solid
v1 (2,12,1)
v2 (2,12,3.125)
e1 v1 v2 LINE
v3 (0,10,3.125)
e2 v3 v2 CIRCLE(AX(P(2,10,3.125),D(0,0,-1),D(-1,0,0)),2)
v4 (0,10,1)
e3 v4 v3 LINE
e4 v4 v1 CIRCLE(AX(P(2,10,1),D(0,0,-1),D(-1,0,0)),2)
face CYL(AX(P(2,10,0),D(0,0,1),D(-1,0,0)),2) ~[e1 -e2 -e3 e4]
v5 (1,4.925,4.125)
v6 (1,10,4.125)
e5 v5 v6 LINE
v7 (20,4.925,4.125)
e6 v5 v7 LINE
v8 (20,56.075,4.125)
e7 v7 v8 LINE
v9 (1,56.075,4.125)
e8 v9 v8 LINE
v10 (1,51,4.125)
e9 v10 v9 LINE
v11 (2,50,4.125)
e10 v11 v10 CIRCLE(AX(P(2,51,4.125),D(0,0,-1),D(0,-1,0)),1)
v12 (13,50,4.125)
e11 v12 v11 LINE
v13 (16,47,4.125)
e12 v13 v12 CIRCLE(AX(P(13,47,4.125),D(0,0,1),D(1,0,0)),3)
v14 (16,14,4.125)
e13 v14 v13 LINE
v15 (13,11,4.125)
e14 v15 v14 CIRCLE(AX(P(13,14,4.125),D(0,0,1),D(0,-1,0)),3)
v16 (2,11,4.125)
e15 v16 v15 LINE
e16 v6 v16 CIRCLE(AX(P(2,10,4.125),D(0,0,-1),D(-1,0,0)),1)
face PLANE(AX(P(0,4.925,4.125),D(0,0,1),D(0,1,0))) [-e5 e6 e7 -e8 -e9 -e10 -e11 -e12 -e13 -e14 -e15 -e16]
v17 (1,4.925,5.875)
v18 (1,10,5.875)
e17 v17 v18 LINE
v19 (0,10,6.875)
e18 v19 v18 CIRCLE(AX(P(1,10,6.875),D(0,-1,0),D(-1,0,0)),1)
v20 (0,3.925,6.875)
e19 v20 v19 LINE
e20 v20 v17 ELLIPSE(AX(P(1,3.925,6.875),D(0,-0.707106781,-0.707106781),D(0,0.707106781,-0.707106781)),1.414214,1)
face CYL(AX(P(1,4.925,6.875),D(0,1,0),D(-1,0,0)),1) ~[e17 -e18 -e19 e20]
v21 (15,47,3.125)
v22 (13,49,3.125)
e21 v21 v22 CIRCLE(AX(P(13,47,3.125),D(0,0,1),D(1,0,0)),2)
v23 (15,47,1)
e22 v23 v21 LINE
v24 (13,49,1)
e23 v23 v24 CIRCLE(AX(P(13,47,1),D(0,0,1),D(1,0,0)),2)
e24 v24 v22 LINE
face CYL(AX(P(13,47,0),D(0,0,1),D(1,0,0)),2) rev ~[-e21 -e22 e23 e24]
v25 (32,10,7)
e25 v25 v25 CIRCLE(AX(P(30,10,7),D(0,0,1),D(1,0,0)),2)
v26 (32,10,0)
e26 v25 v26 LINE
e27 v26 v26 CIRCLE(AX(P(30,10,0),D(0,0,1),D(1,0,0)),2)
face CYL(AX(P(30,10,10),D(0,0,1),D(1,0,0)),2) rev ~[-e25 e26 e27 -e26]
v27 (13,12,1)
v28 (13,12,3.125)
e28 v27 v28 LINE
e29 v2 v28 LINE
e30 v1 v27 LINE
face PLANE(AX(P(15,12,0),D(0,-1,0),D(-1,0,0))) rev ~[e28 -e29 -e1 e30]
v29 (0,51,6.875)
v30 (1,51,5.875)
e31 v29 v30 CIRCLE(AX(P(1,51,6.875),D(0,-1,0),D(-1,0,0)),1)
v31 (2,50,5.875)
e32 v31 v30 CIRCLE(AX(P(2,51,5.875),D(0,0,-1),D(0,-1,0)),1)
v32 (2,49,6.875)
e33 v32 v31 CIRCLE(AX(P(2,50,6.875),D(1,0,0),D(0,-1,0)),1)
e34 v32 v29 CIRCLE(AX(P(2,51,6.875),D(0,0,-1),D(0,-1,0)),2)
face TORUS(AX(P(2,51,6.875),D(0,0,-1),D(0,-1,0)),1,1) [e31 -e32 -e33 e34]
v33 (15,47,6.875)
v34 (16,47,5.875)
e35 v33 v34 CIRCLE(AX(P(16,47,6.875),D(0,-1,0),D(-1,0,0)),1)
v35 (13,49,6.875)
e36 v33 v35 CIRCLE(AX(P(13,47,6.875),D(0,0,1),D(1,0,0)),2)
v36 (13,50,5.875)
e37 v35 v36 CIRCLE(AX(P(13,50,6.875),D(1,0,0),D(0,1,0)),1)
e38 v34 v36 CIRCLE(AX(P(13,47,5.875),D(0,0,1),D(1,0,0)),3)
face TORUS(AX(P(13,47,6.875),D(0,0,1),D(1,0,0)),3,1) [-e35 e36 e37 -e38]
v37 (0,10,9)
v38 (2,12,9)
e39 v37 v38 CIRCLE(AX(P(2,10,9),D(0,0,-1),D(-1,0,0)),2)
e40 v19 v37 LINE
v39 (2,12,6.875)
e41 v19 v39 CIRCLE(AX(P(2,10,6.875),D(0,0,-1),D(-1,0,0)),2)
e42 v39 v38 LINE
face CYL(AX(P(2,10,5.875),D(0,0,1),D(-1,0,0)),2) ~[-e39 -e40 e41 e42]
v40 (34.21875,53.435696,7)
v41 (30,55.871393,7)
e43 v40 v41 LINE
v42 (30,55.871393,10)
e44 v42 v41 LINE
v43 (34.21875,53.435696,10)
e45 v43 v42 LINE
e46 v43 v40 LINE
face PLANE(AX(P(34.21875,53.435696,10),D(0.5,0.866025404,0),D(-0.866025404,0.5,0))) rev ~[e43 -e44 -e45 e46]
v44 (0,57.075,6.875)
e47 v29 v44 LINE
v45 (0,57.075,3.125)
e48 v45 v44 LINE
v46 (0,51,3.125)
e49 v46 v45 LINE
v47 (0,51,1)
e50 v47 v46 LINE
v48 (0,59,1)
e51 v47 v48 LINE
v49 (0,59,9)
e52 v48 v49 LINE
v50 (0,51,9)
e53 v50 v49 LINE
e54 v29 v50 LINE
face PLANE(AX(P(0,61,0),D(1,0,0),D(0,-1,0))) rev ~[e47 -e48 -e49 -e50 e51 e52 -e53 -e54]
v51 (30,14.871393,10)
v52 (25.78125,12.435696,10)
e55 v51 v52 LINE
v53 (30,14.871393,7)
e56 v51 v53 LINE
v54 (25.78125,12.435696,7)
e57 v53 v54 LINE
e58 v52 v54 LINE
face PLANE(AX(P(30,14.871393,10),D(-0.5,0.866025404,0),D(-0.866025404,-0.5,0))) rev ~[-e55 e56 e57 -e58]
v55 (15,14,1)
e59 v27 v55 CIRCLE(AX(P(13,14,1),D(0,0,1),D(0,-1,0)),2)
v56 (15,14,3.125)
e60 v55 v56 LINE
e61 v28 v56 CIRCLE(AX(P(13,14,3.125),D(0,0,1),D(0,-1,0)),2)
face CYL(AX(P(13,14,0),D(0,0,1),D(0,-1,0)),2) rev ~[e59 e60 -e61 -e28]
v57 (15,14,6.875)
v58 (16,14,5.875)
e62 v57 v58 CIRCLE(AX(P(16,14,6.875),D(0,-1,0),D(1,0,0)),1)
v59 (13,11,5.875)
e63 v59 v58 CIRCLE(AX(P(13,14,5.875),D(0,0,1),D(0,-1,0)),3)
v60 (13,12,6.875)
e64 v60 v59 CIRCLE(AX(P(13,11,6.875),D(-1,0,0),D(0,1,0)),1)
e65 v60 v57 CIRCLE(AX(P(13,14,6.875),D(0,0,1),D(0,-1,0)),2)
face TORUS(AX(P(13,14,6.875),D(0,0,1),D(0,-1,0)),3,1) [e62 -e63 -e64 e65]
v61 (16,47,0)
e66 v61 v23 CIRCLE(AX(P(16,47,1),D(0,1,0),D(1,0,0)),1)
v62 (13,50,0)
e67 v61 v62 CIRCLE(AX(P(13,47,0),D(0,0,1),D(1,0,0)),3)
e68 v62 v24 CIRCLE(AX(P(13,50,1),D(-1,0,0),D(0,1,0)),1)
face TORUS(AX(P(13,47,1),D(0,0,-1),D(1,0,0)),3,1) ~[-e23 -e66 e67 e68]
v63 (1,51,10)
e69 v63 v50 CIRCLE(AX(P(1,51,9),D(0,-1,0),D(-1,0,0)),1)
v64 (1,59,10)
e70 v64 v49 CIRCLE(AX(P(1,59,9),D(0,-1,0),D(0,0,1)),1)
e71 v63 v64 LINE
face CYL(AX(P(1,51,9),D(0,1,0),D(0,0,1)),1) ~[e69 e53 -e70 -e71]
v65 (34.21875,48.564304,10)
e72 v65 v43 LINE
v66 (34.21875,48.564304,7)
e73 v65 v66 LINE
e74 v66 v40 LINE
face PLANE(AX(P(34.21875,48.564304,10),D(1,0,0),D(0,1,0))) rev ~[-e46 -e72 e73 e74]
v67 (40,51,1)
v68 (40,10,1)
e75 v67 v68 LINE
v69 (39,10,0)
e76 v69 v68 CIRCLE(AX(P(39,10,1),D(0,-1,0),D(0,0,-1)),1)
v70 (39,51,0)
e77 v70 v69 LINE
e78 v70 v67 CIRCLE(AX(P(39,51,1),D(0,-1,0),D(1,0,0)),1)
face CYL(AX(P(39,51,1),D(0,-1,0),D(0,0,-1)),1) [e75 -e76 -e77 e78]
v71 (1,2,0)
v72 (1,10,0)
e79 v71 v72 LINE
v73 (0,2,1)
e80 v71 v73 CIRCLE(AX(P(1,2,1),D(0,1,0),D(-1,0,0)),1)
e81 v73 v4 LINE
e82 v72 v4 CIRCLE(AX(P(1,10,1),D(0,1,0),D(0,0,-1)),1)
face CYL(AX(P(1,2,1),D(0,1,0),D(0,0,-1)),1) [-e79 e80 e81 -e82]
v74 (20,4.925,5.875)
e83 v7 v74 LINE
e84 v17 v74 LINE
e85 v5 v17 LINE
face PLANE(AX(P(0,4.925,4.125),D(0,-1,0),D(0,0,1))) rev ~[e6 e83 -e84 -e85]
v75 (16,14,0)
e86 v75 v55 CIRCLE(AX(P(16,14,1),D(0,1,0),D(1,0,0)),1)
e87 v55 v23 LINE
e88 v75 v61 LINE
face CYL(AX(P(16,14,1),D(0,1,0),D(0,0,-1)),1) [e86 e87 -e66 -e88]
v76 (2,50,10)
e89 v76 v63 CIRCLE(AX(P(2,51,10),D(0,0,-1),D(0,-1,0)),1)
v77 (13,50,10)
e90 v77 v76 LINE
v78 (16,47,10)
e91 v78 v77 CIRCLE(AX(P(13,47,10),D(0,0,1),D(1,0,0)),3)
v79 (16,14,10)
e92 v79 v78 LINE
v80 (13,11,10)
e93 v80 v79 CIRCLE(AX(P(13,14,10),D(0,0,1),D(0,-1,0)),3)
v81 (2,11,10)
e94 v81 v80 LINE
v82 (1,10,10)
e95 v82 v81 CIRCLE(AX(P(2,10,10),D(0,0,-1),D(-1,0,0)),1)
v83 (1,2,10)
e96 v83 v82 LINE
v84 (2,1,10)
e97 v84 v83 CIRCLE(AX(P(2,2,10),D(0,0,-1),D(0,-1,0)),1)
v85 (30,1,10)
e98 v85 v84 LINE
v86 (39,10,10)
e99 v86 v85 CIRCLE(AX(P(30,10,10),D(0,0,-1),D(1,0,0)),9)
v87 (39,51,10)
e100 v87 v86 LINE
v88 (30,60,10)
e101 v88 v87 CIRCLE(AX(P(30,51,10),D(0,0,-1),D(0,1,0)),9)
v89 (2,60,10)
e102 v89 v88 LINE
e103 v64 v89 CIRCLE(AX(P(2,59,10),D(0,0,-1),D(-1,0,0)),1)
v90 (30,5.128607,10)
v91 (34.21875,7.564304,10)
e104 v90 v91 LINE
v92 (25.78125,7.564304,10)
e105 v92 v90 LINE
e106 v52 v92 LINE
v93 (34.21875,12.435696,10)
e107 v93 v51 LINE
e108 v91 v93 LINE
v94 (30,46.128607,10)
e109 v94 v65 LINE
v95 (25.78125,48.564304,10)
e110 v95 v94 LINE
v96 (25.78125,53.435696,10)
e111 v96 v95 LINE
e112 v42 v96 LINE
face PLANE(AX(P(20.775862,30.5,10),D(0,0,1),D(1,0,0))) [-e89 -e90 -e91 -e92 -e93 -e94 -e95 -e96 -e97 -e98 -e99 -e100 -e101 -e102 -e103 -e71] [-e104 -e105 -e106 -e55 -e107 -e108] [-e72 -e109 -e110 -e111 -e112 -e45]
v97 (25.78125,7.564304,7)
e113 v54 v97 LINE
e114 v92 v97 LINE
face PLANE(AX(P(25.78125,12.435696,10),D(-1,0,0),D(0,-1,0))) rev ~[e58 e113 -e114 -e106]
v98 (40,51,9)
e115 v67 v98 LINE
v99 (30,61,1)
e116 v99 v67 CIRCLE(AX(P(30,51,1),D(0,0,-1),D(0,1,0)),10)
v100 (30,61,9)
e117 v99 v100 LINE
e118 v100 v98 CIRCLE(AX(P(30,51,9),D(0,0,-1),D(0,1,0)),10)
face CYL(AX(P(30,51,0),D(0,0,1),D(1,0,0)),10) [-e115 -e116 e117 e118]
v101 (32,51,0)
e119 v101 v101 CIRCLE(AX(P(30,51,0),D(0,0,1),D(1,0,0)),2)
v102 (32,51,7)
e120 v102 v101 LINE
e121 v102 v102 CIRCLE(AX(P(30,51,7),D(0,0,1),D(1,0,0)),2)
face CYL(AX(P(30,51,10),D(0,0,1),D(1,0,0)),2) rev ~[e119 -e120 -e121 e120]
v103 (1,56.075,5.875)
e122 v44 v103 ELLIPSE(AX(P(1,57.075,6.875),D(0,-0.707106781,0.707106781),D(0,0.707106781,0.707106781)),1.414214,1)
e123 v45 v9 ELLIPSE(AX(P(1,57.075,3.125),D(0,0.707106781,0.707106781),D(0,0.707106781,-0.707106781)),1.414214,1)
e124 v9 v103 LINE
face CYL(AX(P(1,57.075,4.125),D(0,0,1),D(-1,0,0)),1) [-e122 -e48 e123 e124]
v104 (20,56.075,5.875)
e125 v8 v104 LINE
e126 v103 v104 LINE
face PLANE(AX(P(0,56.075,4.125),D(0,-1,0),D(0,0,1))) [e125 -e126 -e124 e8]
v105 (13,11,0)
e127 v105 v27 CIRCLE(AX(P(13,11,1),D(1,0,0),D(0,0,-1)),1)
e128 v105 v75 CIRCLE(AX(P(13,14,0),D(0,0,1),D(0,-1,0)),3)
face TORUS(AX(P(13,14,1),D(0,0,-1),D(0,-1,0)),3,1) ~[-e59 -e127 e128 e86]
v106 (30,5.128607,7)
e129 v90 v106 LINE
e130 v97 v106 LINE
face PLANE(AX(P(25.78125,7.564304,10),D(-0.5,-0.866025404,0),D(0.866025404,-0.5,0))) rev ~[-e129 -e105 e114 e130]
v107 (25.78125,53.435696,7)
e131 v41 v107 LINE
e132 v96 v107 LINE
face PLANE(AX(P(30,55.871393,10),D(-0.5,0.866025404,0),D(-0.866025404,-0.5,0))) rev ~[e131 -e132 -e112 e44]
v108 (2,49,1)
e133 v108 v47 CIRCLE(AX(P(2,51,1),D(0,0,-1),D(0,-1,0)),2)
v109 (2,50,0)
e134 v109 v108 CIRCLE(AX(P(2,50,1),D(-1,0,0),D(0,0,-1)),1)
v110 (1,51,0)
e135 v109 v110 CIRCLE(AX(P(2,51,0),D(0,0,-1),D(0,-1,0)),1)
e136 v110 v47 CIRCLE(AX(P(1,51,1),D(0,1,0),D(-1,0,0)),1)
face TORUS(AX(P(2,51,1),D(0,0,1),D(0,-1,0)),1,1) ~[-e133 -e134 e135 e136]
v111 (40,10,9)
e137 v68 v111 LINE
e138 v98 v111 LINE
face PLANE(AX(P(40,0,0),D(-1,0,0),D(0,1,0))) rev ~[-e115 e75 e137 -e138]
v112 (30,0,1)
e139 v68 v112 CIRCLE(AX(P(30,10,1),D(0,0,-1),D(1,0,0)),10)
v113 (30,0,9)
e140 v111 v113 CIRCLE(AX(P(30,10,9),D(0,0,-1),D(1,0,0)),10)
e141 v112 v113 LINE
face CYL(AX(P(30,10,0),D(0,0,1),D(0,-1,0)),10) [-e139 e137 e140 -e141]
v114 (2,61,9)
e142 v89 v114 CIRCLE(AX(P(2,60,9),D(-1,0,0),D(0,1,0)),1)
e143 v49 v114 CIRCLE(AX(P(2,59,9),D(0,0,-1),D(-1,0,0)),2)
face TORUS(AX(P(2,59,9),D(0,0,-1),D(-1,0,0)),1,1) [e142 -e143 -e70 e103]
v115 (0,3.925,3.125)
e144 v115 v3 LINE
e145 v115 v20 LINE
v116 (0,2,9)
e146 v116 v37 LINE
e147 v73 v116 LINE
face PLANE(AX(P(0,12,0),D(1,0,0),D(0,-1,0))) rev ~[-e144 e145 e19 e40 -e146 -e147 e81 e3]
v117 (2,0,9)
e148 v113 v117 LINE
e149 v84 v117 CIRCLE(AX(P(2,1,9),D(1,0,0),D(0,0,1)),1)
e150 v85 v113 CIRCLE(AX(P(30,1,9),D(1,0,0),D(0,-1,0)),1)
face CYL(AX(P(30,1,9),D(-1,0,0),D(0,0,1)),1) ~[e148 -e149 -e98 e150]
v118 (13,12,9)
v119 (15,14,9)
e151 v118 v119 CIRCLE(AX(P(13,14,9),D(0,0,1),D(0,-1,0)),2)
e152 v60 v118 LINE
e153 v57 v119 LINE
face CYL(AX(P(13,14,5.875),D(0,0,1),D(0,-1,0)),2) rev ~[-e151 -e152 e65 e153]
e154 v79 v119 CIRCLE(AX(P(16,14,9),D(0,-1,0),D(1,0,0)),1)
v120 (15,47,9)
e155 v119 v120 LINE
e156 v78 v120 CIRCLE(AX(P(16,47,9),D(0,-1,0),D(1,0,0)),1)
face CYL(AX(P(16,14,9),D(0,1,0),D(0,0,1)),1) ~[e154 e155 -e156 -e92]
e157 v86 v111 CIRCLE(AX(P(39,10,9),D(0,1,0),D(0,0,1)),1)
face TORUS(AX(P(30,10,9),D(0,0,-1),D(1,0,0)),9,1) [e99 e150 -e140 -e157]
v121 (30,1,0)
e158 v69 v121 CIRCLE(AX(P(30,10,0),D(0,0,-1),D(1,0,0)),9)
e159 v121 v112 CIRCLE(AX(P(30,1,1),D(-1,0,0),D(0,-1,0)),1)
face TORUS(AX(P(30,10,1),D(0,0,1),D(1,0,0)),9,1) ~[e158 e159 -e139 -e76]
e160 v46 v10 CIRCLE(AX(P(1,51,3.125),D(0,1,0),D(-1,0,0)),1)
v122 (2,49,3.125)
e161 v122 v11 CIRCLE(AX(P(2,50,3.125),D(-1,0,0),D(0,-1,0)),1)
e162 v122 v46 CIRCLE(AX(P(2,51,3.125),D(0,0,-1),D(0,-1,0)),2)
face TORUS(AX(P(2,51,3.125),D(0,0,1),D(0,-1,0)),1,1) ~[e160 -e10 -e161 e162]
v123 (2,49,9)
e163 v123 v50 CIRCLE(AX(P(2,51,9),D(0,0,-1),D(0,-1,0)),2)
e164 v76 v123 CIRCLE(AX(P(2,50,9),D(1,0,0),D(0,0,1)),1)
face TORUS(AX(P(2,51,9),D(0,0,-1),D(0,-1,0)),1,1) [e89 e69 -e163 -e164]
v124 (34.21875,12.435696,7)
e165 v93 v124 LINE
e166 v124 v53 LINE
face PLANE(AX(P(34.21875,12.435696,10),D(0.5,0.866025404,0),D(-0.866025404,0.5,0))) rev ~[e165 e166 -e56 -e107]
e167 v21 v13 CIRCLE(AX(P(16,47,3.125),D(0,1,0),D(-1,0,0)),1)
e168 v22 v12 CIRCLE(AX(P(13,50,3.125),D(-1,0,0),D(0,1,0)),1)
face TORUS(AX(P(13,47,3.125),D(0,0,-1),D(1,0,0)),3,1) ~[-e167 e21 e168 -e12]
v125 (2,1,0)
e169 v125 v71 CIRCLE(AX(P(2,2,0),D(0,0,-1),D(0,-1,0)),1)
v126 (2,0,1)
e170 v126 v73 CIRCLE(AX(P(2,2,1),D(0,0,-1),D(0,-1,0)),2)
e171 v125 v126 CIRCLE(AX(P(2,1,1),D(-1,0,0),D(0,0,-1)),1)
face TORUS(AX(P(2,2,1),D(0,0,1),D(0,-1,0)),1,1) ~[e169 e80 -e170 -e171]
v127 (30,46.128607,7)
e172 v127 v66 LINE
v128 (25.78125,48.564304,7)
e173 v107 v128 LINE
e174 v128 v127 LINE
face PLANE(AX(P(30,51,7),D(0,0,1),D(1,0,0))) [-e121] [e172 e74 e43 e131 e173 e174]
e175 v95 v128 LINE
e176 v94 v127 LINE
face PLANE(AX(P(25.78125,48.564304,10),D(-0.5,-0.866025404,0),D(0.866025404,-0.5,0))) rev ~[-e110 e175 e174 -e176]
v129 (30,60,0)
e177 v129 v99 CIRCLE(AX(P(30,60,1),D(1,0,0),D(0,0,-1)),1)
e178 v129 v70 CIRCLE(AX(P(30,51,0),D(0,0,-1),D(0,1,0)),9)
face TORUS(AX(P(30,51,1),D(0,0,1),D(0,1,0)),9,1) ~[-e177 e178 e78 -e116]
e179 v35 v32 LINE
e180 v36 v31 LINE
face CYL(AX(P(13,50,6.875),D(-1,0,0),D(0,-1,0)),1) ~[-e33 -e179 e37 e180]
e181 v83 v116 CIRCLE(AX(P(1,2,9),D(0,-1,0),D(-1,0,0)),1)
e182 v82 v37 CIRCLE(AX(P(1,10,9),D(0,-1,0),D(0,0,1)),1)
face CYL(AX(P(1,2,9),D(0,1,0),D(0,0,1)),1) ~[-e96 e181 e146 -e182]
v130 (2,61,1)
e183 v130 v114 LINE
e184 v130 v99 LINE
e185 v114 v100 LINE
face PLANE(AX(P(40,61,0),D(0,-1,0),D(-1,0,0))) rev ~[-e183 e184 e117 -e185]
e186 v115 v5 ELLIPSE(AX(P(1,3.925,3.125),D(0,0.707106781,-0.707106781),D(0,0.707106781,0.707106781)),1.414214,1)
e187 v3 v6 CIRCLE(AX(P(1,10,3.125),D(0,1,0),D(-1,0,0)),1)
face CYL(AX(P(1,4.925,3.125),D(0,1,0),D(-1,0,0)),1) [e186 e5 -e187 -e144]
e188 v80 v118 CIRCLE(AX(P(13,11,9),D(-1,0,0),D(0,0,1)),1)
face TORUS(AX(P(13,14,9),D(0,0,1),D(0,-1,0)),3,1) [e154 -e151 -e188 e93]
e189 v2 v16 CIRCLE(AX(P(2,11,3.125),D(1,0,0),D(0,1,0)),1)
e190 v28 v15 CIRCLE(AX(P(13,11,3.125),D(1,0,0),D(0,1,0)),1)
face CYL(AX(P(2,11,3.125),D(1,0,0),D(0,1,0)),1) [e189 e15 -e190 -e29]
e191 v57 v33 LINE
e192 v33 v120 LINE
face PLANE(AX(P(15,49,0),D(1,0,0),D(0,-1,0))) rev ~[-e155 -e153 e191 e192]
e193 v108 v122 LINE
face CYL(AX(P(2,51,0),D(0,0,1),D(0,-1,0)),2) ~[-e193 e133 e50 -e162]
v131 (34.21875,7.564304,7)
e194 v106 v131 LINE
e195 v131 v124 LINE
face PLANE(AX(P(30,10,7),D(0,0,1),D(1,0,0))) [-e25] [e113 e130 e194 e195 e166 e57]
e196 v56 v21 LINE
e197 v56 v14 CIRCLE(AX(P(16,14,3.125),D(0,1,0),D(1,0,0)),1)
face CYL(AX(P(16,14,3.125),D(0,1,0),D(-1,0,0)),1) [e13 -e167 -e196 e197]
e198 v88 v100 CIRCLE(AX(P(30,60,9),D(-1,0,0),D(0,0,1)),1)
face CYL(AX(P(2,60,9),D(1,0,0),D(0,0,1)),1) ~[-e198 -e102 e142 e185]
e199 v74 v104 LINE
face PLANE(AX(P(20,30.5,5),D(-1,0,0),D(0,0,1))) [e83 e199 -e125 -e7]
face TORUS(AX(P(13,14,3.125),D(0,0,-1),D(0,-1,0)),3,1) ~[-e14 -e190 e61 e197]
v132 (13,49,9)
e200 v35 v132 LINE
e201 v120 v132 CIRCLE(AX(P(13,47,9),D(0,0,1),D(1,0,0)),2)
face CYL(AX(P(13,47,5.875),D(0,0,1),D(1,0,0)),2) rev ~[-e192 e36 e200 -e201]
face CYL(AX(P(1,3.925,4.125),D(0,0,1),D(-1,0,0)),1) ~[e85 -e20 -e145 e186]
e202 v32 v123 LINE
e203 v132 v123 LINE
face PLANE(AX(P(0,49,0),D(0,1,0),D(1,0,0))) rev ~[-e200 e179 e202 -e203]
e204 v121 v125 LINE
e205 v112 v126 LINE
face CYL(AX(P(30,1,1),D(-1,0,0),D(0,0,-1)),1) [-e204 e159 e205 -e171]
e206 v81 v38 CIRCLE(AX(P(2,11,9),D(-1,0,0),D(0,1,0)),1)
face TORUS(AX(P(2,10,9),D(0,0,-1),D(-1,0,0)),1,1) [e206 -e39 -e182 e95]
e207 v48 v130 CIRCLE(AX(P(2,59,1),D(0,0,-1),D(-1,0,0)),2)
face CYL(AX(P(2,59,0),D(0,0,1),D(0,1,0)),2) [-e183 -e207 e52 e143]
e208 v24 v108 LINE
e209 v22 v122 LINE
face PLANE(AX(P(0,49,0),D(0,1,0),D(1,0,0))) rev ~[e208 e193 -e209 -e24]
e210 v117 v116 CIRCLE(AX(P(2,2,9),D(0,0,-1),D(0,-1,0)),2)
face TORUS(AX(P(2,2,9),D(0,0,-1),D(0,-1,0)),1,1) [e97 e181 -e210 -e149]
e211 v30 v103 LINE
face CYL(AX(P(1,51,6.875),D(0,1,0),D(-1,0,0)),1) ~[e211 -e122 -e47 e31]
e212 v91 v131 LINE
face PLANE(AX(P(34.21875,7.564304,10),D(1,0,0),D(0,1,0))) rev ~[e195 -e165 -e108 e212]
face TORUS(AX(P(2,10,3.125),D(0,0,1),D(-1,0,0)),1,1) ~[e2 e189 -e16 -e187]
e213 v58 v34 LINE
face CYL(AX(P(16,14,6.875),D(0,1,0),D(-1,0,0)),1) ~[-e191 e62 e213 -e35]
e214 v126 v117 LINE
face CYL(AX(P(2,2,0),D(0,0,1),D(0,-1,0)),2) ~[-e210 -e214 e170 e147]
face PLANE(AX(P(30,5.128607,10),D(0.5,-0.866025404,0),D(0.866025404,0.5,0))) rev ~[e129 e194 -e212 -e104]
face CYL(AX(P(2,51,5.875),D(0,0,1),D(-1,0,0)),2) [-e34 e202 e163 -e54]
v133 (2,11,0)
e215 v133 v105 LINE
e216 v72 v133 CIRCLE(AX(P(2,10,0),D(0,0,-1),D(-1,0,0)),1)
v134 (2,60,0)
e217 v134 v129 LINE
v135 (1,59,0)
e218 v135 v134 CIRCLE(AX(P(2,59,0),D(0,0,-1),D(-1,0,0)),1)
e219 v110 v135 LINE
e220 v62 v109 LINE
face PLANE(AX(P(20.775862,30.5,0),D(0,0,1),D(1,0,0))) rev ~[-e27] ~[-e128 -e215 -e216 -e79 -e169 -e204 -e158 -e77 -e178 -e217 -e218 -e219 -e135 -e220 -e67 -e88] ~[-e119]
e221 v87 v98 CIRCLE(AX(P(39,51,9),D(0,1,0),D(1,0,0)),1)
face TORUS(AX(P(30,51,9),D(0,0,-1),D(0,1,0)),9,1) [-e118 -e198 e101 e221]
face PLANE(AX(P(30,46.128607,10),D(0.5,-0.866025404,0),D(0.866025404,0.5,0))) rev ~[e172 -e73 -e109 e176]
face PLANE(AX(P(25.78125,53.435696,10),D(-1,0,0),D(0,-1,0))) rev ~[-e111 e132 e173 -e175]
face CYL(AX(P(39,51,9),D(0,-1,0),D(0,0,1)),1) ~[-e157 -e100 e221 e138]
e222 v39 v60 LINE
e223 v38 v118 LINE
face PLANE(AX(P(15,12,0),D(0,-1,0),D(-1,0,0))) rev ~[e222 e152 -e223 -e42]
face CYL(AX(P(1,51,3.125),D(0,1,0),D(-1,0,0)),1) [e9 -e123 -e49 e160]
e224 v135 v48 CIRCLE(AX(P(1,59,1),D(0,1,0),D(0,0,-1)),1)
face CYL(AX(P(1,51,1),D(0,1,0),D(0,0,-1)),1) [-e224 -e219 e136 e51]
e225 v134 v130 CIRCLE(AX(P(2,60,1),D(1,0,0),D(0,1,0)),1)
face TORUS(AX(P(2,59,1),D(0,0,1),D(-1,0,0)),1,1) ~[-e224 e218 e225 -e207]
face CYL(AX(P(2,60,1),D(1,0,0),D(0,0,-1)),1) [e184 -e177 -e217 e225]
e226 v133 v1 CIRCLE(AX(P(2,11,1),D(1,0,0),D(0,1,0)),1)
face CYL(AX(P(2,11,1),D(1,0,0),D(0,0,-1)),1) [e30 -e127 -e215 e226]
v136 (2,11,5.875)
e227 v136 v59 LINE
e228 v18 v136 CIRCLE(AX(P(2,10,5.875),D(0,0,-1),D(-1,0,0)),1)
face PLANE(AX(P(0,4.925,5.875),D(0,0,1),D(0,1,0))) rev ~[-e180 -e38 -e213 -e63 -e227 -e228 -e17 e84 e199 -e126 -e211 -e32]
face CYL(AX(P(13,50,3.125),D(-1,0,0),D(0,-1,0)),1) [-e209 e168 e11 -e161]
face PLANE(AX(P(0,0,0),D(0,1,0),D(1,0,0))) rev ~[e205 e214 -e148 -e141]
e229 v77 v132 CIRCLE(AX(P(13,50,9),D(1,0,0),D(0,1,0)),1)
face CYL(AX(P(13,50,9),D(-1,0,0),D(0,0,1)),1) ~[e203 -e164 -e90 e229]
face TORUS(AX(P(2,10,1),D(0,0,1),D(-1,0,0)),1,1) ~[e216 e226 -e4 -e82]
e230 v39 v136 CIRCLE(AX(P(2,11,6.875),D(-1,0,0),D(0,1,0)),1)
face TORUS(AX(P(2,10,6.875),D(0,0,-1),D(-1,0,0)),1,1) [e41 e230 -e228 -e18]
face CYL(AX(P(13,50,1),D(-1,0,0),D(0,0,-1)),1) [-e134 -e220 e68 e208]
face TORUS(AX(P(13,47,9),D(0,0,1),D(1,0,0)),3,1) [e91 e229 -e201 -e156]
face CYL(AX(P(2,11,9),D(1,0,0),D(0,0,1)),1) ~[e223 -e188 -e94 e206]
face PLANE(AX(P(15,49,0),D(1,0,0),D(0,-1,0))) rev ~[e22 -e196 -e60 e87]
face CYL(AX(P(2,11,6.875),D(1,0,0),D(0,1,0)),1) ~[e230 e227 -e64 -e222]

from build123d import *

# Parameters (mm, degrees)
BOSS_EXTRUDE1_DEPTH = 10
SKETCH2_W           = 1.75
SKETCH2_H           = 51.15
CUT_EXTRUDE1_DEPTH  = 20
SKETCH3_R           = 2
CUT_EXTRUDE2_DEPTH  = 10
FILLET1_R           = 10
FILLET2_R           = 2
FILLET3_R           = 1
CUT_EXTRUDE3_DEPTH  = 3


with BuildPart() as part:
    # Sketch1 → Boss-Extrude1 (new body)
    with BuildSketch(Plane.XY):
        Polygon((0, 0), (40, 0), (40, 61), (0, 61), (0, 49), (15, 49), (15, 12), (0, 12), align=None)
    extrude(amount=BOSS_EXTRUDE1_DEPTH)

    # Sketch2 → Cut-Extrude1 (cut)
    with BuildSketch(Plane.ZY):
        with Locations((5, 30.5)):
            Rectangle(SKETCH2_W, SKETCH2_H)
    extrude(amount=-CUT_EXTRUDE1_DEPTH, mode=Mode.SUBTRACT)

    # Sketch3 → Cut-Extrude2 (cut)
    with BuildSketch(Plane.XY.offset(10)):
        with Locations((30, 10)):
            Circle(SKETCH3_R)
        with Locations((30, 51)):
            Circle(SKETCH3_R)
    extrude(amount=-CUT_EXTRUDE2_DEPTH, mode=Mode.SUBTRACT)

    # Fillet1
    fillet1_edges = [part.edges().sort_by_distance(p)[0] for p in [
        (40, 61, 5),
        (40, 0, 5),
    ]]
    fillet(fillet1_edges, radius=FILLET1_R)

    # Fillet2
    fillet2_edges = [part.edges().sort_by_distance(p)[0] for p in [
        (0, 12, 7.9375),
        (15, 12, 7.9375),
        (15, 49, 7.9375),
        (0, 49, 7.9375),
        (0, 61, 5),
        (0, 0, 5),
        (0, 12, 2.0625),
        (15, 12, 2.0625),
        (15, 49, 2.0625),
        (0, 49, 2.0625),
    ]]
    fillet(fillet2_edges, radius=FILLET2_R)

    # Fillet3
    fillet3_edges = [part.edges().sort_by_distance(p)[0] for p in [
        (14.414213562, 48.414213562, 0),
        (14.414213562, 48.414213562, 4.125),
        (14.414213562, 48.414213562, 5.875),
        (14.414213562, 48.414213562, 10),
        (14.414213562, 12.585786438, 0),
        (14.414213562, 12.585786438, 4.125),
        (14.414213562, 12.585786438, 5.875),
        (14.414213562, 12.585786438, 10),
        (0, 56.075, 5),
        (0, 53.5375, 4.125),
        (0, 4.925, 5),
        (0, 7.4625, 5.875),
        (16, 61, 0),
        (16, 61, 10),
        (40, 30.5, 0),
        (37.071067812, 2.928932188, 0),
        (37.071067812, 58.071067812, 0),
        (40, 30.5, 10),
        (37.071067812, 2.928932188, 10),
        (37.071067812, 58.071067812, 10),
        (0, 53.5375, 5.875),
        (0, 55, 10),
        (0, 55, 0),
        (16, 0, 0),
        (0, 6, 0),
        (7.5, 12, 0),
        (15, 30.5, 0),
        (7.5, 49, 0),
        (0.585786438, 0.585786438, 0),
        (0.585786438, 11.414213562, 0),
        (0.585786438, 49.585786438, 0),
        (0.585786438, 60.414213562, 0),
        (7.5, 49, 10),
        (15, 30.5, 10),
        (7.5, 12, 10),
        (0, 6, 10),
        (16, 0, 10),
        (0.585786438, 0.585786438, 10),
        (0.585786438, 11.414213562, 10),
        (0.585786438, 49.585786438, 10),
        (0.585786438, 60.414213562, 10),
        (7.5, 49, 5.875),
        (7.5, 12, 5.875),
        (15, 30.5, 5.875),
        (0.585786438, 11.414213562, 5.875),
        (0.585786438, 49.585786438, 5.875),
        (7.5, 49, 4.125),
        (15, 30.5, 4.125),
        (7.5, 12, 4.125),
        (0, 7.4625, 4.125),
        (0.585786438, 11.414213562, 4.125),
        (0.585786438, 49.585786438, 4.125),
    ]]
    fillet(fillet3_edges, radius=FILLET3_R)

    # Sketch4 → Cut-Extrude3 (cut)
    with BuildSketch(Plane.XY.offset(10)):
        Polygon((30, 46.128607104), (34.21875, 48.564303552), (34.21875, 53.435696448), (30, 55.871392896), (25.78125, 53.435696448), (25.78125, 48.564303552), align=None)
        Polygon((30, 5.128607104), (34.21875, 7.564303552), (34.21875, 12.435696448), (30, 14.871392896), (25.78125, 12.435696448), (25.78125, 7.564303552), align=None)
    extrude(amount=-CUT_EXTRUDE3_DEPTH, mode=Mode.SUBTRACT)


solid = part.part
